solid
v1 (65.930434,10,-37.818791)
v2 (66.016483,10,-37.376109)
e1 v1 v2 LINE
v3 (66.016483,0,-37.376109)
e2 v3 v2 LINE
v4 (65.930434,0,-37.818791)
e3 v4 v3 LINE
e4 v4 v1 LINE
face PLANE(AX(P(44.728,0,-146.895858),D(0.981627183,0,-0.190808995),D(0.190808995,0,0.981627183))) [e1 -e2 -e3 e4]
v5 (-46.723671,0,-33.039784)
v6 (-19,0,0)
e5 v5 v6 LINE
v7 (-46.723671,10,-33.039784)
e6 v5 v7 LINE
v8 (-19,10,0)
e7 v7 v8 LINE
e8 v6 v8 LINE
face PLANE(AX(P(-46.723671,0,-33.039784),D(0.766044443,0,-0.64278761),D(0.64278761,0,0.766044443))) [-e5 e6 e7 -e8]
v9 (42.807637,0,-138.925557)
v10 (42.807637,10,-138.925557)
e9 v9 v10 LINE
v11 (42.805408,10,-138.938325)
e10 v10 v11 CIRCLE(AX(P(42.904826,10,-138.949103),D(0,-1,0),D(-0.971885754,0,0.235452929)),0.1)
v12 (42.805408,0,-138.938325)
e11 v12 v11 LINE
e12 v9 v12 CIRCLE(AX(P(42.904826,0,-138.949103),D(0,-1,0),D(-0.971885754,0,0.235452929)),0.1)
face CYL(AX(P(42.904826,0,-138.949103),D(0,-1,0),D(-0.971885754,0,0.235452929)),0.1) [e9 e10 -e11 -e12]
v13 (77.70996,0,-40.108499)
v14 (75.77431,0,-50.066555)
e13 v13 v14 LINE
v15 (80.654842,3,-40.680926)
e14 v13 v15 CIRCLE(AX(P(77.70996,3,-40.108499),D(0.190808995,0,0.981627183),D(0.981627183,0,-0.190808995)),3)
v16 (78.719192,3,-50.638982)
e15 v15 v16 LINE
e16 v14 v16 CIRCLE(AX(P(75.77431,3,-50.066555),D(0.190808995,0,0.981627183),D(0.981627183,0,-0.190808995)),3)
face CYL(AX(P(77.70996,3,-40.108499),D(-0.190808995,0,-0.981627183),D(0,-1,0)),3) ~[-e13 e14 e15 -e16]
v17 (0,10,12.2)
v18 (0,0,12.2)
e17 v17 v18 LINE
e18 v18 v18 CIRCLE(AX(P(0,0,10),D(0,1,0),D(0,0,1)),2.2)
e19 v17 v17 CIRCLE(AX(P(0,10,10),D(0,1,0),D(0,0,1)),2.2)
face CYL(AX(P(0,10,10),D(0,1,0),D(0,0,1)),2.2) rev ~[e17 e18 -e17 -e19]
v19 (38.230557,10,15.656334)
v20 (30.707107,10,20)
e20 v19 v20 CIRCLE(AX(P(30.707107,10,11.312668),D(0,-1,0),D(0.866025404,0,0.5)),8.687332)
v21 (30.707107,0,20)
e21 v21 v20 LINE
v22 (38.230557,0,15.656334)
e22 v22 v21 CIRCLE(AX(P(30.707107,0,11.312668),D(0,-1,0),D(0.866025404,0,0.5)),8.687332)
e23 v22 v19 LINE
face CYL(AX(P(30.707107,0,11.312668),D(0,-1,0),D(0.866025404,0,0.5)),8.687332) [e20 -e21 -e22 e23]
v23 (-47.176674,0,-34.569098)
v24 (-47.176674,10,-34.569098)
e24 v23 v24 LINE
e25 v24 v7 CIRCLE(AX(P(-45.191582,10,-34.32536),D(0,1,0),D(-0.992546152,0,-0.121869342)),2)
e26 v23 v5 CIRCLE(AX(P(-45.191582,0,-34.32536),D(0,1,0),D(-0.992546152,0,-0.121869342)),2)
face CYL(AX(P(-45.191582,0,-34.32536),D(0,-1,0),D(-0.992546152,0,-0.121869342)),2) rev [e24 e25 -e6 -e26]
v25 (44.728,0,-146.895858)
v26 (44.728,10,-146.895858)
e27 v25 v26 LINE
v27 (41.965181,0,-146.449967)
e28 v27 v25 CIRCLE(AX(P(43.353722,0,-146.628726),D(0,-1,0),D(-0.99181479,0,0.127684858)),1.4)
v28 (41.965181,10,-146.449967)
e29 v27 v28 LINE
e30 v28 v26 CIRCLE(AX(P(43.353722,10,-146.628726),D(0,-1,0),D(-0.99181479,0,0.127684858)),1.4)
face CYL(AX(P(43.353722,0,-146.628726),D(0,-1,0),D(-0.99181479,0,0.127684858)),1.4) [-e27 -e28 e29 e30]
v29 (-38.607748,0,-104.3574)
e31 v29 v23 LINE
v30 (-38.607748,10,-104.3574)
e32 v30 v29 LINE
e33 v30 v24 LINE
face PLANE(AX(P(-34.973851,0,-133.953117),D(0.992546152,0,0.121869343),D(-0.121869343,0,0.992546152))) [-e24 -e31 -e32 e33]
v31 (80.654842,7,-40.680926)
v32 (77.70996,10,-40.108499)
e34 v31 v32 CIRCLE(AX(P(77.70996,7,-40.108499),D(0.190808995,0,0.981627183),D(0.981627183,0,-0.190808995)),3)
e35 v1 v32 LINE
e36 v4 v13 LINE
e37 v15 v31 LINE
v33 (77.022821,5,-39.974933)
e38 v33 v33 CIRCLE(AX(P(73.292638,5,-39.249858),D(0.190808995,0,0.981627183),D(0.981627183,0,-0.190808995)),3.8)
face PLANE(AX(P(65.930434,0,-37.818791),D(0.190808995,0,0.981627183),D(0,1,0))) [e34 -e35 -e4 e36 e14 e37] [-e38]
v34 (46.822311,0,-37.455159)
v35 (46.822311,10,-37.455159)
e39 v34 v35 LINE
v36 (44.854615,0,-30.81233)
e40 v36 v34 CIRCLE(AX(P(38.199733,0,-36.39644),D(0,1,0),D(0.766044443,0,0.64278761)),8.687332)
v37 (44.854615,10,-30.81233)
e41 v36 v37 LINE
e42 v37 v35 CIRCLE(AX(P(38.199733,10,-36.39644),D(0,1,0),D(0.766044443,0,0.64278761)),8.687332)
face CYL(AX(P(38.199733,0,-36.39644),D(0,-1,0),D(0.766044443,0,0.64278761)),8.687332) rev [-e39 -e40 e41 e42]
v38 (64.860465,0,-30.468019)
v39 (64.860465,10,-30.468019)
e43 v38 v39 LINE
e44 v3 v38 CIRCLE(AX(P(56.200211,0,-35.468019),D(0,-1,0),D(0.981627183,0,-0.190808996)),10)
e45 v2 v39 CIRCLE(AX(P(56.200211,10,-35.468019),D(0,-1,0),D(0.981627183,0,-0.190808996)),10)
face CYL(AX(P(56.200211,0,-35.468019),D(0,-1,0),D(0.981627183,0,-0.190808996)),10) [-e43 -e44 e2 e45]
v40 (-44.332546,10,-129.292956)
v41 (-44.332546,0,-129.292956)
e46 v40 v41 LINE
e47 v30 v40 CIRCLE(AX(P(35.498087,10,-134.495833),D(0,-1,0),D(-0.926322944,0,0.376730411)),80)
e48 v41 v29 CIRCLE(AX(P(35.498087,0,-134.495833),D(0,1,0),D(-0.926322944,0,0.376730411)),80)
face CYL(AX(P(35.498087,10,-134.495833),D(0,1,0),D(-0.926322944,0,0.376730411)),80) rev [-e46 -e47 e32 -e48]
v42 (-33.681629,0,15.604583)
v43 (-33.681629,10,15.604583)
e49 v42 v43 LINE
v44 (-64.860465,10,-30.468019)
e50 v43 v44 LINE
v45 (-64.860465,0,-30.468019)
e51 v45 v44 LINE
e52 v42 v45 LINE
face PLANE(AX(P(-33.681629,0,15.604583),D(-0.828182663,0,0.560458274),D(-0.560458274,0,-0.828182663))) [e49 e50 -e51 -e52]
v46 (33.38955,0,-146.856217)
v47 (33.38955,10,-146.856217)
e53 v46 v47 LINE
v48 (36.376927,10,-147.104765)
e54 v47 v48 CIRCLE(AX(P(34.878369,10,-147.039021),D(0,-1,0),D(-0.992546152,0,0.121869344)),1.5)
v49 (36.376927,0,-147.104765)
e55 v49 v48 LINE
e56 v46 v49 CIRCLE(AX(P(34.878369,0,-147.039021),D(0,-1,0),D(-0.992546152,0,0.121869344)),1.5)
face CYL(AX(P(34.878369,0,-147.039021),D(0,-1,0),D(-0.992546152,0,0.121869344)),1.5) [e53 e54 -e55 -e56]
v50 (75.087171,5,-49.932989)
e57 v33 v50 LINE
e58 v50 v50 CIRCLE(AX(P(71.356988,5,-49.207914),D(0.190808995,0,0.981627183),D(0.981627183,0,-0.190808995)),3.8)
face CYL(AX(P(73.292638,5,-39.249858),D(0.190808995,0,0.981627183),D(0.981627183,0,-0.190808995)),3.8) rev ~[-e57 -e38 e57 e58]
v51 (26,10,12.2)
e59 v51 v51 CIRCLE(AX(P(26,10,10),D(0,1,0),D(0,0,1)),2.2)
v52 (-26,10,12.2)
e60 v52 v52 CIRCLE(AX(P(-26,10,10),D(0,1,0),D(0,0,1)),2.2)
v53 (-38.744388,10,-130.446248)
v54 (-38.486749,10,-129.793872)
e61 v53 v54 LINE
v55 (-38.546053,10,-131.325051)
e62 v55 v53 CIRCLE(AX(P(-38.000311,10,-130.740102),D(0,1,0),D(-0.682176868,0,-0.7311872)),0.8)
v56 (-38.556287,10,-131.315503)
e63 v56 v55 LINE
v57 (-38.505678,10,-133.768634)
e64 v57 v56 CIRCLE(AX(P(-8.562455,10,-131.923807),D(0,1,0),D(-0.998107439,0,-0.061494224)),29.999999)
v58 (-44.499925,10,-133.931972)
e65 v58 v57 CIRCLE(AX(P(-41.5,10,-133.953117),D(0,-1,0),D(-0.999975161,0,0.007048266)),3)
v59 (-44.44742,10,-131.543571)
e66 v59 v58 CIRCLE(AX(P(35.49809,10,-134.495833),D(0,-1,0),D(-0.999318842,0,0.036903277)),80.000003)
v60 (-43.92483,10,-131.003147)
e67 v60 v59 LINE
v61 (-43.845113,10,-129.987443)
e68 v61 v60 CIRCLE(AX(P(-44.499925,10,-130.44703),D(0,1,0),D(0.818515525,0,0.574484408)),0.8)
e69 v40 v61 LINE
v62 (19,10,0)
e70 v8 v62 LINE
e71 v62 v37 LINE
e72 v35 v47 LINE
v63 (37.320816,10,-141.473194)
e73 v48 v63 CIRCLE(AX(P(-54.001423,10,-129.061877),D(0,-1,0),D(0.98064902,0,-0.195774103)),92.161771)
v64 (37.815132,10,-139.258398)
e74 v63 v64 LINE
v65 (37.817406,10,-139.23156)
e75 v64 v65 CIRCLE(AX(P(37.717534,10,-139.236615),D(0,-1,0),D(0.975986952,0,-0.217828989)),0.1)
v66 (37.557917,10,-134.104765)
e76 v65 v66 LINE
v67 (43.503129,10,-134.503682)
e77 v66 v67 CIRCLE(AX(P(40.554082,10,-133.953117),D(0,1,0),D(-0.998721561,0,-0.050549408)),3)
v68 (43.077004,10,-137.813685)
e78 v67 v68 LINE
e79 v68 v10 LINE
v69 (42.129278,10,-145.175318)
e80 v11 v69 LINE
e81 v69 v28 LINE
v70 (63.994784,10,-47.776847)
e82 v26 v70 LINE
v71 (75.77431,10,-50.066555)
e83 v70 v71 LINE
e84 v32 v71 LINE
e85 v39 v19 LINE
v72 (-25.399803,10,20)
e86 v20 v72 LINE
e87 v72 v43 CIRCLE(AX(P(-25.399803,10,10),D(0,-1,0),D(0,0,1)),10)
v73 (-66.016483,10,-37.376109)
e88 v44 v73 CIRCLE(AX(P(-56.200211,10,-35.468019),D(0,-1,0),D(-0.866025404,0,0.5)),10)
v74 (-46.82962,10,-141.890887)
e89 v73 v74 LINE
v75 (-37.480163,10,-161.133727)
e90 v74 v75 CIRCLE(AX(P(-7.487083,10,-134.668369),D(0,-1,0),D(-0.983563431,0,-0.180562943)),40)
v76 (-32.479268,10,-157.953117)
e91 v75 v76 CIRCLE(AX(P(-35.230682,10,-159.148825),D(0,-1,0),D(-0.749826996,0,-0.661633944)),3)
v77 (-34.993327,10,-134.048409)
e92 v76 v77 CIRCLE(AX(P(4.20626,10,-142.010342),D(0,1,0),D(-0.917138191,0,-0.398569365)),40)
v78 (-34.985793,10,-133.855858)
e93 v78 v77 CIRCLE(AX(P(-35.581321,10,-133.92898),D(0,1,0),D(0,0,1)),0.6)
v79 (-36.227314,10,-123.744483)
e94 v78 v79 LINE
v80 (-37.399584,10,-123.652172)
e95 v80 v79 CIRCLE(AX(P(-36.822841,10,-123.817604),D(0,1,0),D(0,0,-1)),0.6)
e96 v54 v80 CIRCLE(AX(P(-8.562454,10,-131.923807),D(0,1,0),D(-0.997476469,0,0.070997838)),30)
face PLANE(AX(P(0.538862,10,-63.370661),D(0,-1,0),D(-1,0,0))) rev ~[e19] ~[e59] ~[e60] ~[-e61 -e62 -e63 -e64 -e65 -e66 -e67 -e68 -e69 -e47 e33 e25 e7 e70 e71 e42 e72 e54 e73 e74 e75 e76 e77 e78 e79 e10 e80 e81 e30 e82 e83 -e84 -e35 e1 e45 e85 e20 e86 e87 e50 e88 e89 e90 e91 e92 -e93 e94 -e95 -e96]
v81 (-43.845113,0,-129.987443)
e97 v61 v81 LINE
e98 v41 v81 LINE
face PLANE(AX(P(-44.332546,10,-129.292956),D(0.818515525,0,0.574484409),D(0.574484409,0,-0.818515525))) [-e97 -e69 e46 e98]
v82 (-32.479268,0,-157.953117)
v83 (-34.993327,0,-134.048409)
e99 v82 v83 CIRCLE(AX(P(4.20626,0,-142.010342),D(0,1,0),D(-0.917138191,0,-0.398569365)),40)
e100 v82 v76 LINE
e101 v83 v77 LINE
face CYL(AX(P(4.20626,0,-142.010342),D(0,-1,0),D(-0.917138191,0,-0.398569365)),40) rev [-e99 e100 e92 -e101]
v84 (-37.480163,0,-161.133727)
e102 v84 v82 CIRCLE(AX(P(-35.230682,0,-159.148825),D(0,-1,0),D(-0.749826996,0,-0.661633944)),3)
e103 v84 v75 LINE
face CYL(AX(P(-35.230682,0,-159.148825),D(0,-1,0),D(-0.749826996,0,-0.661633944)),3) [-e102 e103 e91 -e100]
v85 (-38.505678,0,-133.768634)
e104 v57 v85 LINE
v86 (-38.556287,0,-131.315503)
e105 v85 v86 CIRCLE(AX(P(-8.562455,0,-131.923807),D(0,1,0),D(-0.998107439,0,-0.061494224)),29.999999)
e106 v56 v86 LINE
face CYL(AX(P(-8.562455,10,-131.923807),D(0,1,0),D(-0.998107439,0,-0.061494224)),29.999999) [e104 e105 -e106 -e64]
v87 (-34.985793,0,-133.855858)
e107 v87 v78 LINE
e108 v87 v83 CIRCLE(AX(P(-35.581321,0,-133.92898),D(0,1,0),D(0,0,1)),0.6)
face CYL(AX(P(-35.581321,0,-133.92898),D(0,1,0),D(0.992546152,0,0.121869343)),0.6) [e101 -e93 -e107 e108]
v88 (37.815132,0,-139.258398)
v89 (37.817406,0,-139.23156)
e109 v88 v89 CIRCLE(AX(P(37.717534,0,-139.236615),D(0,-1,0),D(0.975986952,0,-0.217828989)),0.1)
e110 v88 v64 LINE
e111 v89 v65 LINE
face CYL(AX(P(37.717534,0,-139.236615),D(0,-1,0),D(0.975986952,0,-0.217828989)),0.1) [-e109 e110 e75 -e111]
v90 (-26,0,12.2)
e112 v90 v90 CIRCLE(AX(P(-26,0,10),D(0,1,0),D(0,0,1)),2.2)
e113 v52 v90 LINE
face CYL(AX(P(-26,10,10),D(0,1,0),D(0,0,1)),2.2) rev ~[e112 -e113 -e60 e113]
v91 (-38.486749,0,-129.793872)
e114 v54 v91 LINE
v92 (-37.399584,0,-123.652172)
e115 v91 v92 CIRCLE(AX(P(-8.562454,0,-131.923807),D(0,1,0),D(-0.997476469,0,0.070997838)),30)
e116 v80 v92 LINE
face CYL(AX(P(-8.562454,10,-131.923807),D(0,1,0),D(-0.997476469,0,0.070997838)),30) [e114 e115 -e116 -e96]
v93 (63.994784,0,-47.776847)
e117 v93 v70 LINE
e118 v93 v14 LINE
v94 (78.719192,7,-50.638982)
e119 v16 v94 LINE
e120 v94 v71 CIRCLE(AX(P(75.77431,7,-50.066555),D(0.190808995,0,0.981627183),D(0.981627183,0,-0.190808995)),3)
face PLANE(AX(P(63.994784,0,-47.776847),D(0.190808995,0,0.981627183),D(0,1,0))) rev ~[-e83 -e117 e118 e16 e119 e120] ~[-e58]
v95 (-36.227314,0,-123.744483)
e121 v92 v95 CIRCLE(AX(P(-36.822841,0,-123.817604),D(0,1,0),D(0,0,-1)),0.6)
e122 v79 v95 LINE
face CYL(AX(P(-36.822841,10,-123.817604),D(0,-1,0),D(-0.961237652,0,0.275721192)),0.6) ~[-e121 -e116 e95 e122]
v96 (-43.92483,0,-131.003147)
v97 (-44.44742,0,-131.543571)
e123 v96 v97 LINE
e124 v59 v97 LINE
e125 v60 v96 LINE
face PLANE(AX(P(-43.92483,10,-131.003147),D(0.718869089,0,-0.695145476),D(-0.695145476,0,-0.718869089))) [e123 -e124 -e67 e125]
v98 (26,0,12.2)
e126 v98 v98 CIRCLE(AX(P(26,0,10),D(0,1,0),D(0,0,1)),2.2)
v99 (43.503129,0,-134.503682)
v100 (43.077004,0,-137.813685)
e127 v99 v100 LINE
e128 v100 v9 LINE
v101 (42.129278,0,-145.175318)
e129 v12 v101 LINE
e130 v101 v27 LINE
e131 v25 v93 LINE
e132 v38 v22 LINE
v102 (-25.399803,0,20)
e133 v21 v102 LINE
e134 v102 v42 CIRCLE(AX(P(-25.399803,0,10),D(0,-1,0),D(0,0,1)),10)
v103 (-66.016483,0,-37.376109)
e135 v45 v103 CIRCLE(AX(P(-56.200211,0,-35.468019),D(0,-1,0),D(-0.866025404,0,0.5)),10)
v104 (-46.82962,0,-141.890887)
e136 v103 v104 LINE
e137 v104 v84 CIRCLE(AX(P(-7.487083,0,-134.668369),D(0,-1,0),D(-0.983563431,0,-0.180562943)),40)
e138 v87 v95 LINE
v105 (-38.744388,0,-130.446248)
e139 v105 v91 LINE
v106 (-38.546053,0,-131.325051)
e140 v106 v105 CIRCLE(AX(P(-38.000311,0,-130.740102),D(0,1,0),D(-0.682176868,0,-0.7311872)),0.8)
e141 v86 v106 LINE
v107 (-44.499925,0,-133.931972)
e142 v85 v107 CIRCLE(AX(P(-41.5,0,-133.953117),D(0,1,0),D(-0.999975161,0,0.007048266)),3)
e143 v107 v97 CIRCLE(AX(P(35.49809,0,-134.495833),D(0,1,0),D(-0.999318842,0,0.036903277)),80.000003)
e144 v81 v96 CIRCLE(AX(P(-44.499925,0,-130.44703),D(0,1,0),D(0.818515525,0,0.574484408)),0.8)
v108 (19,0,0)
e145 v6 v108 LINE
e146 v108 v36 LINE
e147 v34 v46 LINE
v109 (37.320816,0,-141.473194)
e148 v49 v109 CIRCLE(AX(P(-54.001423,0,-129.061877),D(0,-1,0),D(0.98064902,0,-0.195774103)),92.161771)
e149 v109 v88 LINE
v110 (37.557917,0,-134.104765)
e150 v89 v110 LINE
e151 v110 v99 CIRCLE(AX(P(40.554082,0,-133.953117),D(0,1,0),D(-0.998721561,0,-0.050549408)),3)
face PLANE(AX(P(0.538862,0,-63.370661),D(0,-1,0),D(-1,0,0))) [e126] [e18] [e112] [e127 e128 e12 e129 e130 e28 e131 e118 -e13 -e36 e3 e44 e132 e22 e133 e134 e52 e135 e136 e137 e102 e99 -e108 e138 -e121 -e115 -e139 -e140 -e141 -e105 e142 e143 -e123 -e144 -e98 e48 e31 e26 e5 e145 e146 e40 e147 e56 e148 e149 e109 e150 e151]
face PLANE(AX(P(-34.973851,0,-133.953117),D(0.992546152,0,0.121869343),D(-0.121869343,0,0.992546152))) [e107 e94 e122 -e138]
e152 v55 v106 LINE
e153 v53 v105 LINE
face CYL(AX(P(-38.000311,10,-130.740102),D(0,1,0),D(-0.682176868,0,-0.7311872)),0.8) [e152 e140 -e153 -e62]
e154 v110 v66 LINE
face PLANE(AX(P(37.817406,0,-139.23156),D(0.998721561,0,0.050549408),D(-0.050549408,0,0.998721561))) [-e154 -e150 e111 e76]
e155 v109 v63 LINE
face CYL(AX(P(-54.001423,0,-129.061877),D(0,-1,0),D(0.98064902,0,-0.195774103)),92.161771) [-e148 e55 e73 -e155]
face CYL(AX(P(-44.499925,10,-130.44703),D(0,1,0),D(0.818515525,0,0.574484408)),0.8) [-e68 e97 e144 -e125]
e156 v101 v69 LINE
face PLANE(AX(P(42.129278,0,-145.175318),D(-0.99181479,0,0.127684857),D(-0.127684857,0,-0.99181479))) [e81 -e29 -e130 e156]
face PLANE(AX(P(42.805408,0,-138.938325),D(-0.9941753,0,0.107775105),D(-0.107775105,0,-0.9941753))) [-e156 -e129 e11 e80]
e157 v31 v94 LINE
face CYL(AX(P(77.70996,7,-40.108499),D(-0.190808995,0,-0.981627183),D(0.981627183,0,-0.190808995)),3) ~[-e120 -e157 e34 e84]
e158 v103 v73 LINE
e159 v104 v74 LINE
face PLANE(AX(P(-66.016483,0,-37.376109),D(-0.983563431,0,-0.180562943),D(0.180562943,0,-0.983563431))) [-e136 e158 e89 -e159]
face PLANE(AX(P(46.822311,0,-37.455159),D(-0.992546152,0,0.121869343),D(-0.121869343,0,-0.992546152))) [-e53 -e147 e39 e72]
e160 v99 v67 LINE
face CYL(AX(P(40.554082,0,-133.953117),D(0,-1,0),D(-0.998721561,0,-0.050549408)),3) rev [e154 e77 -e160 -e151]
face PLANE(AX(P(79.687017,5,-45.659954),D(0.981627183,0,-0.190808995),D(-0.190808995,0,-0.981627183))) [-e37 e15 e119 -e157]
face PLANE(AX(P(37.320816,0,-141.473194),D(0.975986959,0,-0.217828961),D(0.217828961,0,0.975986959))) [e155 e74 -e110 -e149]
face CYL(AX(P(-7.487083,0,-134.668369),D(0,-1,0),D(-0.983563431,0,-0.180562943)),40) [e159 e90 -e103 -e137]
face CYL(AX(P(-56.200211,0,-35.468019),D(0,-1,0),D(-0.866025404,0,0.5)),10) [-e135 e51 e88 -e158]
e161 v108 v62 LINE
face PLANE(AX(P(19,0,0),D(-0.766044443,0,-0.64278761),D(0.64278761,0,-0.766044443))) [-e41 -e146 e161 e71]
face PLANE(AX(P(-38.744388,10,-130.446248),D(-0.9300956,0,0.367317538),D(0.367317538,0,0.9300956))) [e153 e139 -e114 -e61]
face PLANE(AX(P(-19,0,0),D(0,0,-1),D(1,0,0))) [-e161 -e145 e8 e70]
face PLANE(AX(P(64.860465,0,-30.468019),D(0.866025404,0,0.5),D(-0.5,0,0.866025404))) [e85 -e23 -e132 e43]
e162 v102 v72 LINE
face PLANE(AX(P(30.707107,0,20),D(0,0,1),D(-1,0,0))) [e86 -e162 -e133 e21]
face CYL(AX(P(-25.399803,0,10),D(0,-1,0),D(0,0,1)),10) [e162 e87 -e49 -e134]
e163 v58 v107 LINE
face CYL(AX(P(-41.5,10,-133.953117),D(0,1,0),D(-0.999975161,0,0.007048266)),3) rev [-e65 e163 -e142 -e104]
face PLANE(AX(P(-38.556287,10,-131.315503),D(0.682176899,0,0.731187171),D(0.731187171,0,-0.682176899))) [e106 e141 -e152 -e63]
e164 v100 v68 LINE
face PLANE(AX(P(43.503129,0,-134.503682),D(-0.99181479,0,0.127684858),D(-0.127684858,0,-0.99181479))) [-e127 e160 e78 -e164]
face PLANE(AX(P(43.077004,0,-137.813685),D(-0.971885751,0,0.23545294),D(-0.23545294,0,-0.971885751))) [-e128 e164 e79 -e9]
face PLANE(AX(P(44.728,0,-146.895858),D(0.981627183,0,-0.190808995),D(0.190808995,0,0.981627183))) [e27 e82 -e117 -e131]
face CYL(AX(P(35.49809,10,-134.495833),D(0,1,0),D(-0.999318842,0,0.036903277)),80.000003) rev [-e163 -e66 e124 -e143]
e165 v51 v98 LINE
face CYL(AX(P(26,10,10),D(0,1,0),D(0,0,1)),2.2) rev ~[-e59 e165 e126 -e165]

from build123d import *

# Parameters (mm, degrees)
EXTRUDE_1_DEPTH     = 10
CUT_EXTRUDE_1_REACH = 177.427
SKETCH_2_R          = 2.2
FILLET_1_R          = 0.6
SKETCH_3_W          = 10.144437824
SKETCH_3_H          = 10
EXTRUDE_2_DEPTH     = 15
CUT_EXTRUDE_2_REACH = 164.61
SKETCH_4_R          = 3.8
FILLET_2_R          = 3


with BuildPart() as part:
    # 草图1 → 凸台-拉伸1 (new body)
    with BuildSketch(Plane(origin=(0, 0, 0), x_dir=(1, 0, 0), z_dir=(0, 1, 0))):
        with BuildLine():
            Line((-19, 0), (19, 0))
            Line((19, 0), (44.854614973, 30.81233028))
            ThreePointArc((44.854614973, 30.81233028), (46.529317931, 33.929104052), (46.82231051, 37.455159084))
            Line((46.82231051, 37.455159084), (33.389549678, 146.856216784))
            ThreePointArc((33.389549678, 146.856216784), (34.753999407, 148.533855984), (36.376927445, 147.104765038))
            ThreePointArc((36.376927445, 147.104765038), (36.892496808, 144.296291333), (37.320815542, 141.473193853))
            Line((37.320815542, 141.473193853), (37.815132232, 139.258398169))
            ThreePointArc((37.815132232, 139.258398169), (37.817176658, 139.245056143), (37.817405692, 139.231560332))
            Line((37.817405692, 139.231560332), (37.557917484, 134.104765038))
            ThreePointArc((37.557917484, 134.104765038), (40.754926912, 130.959847465), (43.503129215, 134.503681536))
            Line((43.503129215, 134.503681536), (43.077003941, 137.813685213))
            Line((43.077003941, 137.813685213), (42.807637334, 138.925557366))
            ThreePointArc((42.807637334, 138.925557366), (42.806315787, 138.931905108), (42.80540838, 138.938325149))
            Line((42.80540838, 138.938325149), (42.129277547, 145.175318139))
            Line((42.129277547, 145.175318139), (41.965181023, 146.44996701))
            ThreePointArc((41.965181023, 146.44996701), (43.130662006, 148.010841711), (44.727999785, 146.895858405))
            Line((44.727999785, 146.895858405), (66.016482503, 37.376109146))
            ThreePointArc((66.016482503, 37.376109146), (66.063066684, 33.817543133), (64.860464706, 30.468019192))
            Line((64.860464706, 30.468019192), (38.23055697, -15.656334008))
            ThreePointArc((38.23055697, -15.656334008), (35.050772773, -18.836118205), (30.707106781, -20))
            Line((30.707106781, -20), (5.707106781, -20))
            Line((5.707106781, -20), (-5.707106781, -20))
            Line((-5.707106781, -20), (-25.399802658, -20))
            ThreePointArc((-25.399802658, -20), (-30.087775174, -18.833058003), (-33.681629288, -15.604582738))
            Line((-33.681629288, -15.604582738), (-64.860464706, 30.468019192))
            ThreePointArc((-64.860464706, 30.468019192), (-66.063066684, 33.817543133), (-66.016482503, 37.376109146))
            Line((-66.016482503, 37.376109146), (-46.829620455, 141.890886738))
            ThreePointArc((-46.829620455, 141.890886738), (-43.465252598, 152.148967586), (-37.480163066, 161.13372674))
            ThreePointArc((-37.480163066, 161.13372674), (-33.620696298, 161.680216975), (-32.479267504, 157.953116813))
            ThreePointArc((-32.479267504, 157.953116813), (-35.579400499, 146.14570295), (-34.973851142, 133.953116813))
            Line((-34.973851142, 133.953116813), (-47.176674229, 34.569098196))
            ThreePointArc((-47.176674229, 34.569098196), (-47.109221395, 33.75732882), (-46.723670812, 33.03978429))
            Line((-46.723670812, 33.03978429), (-19, 0))
        make_face()
    extrude(amount=EXTRUDE_1_DEPTH)

    # 草图2 → 切除-拉伸1 (cut, up to next)
    with BuildSketch(Plane(origin=(0, 10, 0), x_dir=(1, 0, 0), z_dir=(0, 1, 0)), mode=Mode.PRIVATE) as cut_extrude_1_sk1:
        with Locations(Location((0, -10, 0), (0, 0, 270))):
            Circle(SKETCH_2_R)
    cut_extrude_1_tool1 = extrude(cut_extrude_1_sk1.sketch, amount=-CUT_EXTRUDE_1_REACH, mode=Mode.PRIVATE) & part.part
    # 草图2 → 切除-拉伸1 (cut, up to next)
    with BuildSketch(Plane(origin=(0, 10, 0), x_dir=(1, 0, 0), z_dir=(0, 1, 0)), mode=Mode.PRIVATE) as cut_extrude_1_sk2:
        with Locations(Location((-26, -10, 0), (0, 0, 270))):
            Circle(SKETCH_2_R)
    cut_extrude_1_tool2 = extrude(cut_extrude_1_sk2.sketch, amount=-CUT_EXTRUDE_1_REACH, mode=Mode.PRIVATE) & part.part
    # 草图2 → 切除-拉伸1 (cut, up to next)
    with BuildSketch(Plane(origin=(0, 10, 0), x_dir=(1, 0, 0), z_dir=(0, 1, 0)), mode=Mode.PRIVATE) as cut_extrude_1_sk3:
        with Locations(Location((26, -10, 0), (0, 0, 270))):
            Circle(SKETCH_2_R)
    cut_extrude_1_tool3 = extrude(cut_extrude_1_sk3.sketch, amount=-CUT_EXTRUDE_1_REACH, mode=Mode.PRIVATE) & part.part
    # 草图2 → 切除-拉伸1 (cut, up to next)
    with BuildSketch(Plane(origin=(0, 10, 0), x_dir=(1, 0, 0), z_dir=(0, 1, 0)), mode=Mode.PRIVATE) as cut_extrude_1_sk4:
        with BuildLine():
            Line((-36.549558395, 121.120011078), (-38.607748185, 104.35740041))
            ThreePointArc((-38.607748185, 104.35740041), (-42.47341142, 116.594845153), (-44.332546284, 129.292956179))
            Line((-44.332546284, 129.292956179), (-43.845113062, 129.987442667))
            ThreePointArc((-43.845113062, 129.987442667), (-43.702378092, 130.509625408), (-43.924830211, 131.003146575))
            Line((-43.924830211, 131.003146575), (-44.447419993, 131.543571067))
            ThreePointArc((-44.447419993, 131.543571067), (-44.482588605, 132.737575539), (-44.499925482, 133.931972015))
            ThreePointArc((-44.499925482, 133.931972015), (-41.418283025, 136.952003662), (-38.505677682, 133.768634142))
            ThreePointArc((-38.505677682, 133.768634142), (-38.556072369, 132.542586282), (-38.556286633, 131.315503182))
            Line((-38.556286633, 131.315503182), (-38.546052546, 131.325051295))
            ThreePointArc((-38.546052546, 131.325051295), (-38.780683801, 130.91622187), (-38.744387532, 130.446247504))
            Line((-38.744387532, 130.446247504), (-38.486748585, 129.793872308))
            ThreePointArc((-38.486748585, 129.793872308), (-37.841140795, 125.384806825), (-36.549558395, 121.120011078))
        make_face()
    cut_extrude_1_tool4 = extrude(cut_extrude_1_sk4.sketch, amount=-CUT_EXTRUDE_1_REACH, mode=Mode.PRIVATE) & part.part
    add(cut_extrude_1_tool1.solids().sort_by_distance((0, 10, 10))[0], mode=Mode.SUBTRACT)
    add(cut_extrude_1_tool2.solids().sort_by_distance((-26, 10, 10))[0], mode=Mode.SUBTRACT)
    add(cut_extrude_1_tool3.solids().sort_by_distance((26, 10, 10))[0], mode=Mode.SUBTRACT)
    add(cut_extrude_1_tool4.solids().sort_by_distance((-40.502089, 10, -123.156617))[0], mode=Mode.SUBTRACT)

    # 圆角1
    fillet_1_edges = [part.edges().sort_by_distance(p)[0] for p in [
        (-36.549558395, 5, -121.120011078),
        (-34.973851142, 5, -133.953116813),
    ]]
    fillet(fillet_1_edges, radius=FILLET_1_R)

    # 草图3 → 凸台-拉伸2 (add)
    with BuildSketch(Plane(origin=(70.613618069, 0, -13.725896909), x_dir=(-0.19080899537654988, 0, -0.9816271834476631), z_dir=(0.9816271834476631, 0, -0.19080899537654988))):
        with Locations((29.616052291, 5)):
            Rectangle(SKETCH_3_W, SKETCH_3_H)
    extrude(amount=EXTRUDE_2_DEPTH)

    # 草图4 → 切除-拉伸2 (cut, up to next)
    with BuildSketch(Plane(origin=(-4.68318419, 0, -24.092894031), x_dir=(0.981627183447663, 0, -0.19080899537654997), z_dir=(0.19080899537654997, 0, 0.981627183447663)), mode=Mode.PRIVATE) as cut_extrude_2_sk1:
        with Locations((79.435271618, 5)):
            Circle(SKETCH_4_R)
    cut_extrude_2_tool1 = extrude(cut_extrude_2_sk1.sketch, amount=-CUT_EXTRUDE_2_REACH, mode=Mode.PRIVATE) & part.part
    add(cut_extrude_2_tool1.solids().sort_by_distance((73.292638, 5, -39.249858))[0], mode=Mode.SUBTRACT)

    # 圆角2
    fillet_2_edges = [part.edges().sort_by_distance(p)[0] for p in [
        (79.687016636, 0, -45.659953836),
        (79.687016636, 10, -45.659953836),
    ]]
    fillet(fillet_2_edges, radius=FILLET_2_R)


solid = part.part
